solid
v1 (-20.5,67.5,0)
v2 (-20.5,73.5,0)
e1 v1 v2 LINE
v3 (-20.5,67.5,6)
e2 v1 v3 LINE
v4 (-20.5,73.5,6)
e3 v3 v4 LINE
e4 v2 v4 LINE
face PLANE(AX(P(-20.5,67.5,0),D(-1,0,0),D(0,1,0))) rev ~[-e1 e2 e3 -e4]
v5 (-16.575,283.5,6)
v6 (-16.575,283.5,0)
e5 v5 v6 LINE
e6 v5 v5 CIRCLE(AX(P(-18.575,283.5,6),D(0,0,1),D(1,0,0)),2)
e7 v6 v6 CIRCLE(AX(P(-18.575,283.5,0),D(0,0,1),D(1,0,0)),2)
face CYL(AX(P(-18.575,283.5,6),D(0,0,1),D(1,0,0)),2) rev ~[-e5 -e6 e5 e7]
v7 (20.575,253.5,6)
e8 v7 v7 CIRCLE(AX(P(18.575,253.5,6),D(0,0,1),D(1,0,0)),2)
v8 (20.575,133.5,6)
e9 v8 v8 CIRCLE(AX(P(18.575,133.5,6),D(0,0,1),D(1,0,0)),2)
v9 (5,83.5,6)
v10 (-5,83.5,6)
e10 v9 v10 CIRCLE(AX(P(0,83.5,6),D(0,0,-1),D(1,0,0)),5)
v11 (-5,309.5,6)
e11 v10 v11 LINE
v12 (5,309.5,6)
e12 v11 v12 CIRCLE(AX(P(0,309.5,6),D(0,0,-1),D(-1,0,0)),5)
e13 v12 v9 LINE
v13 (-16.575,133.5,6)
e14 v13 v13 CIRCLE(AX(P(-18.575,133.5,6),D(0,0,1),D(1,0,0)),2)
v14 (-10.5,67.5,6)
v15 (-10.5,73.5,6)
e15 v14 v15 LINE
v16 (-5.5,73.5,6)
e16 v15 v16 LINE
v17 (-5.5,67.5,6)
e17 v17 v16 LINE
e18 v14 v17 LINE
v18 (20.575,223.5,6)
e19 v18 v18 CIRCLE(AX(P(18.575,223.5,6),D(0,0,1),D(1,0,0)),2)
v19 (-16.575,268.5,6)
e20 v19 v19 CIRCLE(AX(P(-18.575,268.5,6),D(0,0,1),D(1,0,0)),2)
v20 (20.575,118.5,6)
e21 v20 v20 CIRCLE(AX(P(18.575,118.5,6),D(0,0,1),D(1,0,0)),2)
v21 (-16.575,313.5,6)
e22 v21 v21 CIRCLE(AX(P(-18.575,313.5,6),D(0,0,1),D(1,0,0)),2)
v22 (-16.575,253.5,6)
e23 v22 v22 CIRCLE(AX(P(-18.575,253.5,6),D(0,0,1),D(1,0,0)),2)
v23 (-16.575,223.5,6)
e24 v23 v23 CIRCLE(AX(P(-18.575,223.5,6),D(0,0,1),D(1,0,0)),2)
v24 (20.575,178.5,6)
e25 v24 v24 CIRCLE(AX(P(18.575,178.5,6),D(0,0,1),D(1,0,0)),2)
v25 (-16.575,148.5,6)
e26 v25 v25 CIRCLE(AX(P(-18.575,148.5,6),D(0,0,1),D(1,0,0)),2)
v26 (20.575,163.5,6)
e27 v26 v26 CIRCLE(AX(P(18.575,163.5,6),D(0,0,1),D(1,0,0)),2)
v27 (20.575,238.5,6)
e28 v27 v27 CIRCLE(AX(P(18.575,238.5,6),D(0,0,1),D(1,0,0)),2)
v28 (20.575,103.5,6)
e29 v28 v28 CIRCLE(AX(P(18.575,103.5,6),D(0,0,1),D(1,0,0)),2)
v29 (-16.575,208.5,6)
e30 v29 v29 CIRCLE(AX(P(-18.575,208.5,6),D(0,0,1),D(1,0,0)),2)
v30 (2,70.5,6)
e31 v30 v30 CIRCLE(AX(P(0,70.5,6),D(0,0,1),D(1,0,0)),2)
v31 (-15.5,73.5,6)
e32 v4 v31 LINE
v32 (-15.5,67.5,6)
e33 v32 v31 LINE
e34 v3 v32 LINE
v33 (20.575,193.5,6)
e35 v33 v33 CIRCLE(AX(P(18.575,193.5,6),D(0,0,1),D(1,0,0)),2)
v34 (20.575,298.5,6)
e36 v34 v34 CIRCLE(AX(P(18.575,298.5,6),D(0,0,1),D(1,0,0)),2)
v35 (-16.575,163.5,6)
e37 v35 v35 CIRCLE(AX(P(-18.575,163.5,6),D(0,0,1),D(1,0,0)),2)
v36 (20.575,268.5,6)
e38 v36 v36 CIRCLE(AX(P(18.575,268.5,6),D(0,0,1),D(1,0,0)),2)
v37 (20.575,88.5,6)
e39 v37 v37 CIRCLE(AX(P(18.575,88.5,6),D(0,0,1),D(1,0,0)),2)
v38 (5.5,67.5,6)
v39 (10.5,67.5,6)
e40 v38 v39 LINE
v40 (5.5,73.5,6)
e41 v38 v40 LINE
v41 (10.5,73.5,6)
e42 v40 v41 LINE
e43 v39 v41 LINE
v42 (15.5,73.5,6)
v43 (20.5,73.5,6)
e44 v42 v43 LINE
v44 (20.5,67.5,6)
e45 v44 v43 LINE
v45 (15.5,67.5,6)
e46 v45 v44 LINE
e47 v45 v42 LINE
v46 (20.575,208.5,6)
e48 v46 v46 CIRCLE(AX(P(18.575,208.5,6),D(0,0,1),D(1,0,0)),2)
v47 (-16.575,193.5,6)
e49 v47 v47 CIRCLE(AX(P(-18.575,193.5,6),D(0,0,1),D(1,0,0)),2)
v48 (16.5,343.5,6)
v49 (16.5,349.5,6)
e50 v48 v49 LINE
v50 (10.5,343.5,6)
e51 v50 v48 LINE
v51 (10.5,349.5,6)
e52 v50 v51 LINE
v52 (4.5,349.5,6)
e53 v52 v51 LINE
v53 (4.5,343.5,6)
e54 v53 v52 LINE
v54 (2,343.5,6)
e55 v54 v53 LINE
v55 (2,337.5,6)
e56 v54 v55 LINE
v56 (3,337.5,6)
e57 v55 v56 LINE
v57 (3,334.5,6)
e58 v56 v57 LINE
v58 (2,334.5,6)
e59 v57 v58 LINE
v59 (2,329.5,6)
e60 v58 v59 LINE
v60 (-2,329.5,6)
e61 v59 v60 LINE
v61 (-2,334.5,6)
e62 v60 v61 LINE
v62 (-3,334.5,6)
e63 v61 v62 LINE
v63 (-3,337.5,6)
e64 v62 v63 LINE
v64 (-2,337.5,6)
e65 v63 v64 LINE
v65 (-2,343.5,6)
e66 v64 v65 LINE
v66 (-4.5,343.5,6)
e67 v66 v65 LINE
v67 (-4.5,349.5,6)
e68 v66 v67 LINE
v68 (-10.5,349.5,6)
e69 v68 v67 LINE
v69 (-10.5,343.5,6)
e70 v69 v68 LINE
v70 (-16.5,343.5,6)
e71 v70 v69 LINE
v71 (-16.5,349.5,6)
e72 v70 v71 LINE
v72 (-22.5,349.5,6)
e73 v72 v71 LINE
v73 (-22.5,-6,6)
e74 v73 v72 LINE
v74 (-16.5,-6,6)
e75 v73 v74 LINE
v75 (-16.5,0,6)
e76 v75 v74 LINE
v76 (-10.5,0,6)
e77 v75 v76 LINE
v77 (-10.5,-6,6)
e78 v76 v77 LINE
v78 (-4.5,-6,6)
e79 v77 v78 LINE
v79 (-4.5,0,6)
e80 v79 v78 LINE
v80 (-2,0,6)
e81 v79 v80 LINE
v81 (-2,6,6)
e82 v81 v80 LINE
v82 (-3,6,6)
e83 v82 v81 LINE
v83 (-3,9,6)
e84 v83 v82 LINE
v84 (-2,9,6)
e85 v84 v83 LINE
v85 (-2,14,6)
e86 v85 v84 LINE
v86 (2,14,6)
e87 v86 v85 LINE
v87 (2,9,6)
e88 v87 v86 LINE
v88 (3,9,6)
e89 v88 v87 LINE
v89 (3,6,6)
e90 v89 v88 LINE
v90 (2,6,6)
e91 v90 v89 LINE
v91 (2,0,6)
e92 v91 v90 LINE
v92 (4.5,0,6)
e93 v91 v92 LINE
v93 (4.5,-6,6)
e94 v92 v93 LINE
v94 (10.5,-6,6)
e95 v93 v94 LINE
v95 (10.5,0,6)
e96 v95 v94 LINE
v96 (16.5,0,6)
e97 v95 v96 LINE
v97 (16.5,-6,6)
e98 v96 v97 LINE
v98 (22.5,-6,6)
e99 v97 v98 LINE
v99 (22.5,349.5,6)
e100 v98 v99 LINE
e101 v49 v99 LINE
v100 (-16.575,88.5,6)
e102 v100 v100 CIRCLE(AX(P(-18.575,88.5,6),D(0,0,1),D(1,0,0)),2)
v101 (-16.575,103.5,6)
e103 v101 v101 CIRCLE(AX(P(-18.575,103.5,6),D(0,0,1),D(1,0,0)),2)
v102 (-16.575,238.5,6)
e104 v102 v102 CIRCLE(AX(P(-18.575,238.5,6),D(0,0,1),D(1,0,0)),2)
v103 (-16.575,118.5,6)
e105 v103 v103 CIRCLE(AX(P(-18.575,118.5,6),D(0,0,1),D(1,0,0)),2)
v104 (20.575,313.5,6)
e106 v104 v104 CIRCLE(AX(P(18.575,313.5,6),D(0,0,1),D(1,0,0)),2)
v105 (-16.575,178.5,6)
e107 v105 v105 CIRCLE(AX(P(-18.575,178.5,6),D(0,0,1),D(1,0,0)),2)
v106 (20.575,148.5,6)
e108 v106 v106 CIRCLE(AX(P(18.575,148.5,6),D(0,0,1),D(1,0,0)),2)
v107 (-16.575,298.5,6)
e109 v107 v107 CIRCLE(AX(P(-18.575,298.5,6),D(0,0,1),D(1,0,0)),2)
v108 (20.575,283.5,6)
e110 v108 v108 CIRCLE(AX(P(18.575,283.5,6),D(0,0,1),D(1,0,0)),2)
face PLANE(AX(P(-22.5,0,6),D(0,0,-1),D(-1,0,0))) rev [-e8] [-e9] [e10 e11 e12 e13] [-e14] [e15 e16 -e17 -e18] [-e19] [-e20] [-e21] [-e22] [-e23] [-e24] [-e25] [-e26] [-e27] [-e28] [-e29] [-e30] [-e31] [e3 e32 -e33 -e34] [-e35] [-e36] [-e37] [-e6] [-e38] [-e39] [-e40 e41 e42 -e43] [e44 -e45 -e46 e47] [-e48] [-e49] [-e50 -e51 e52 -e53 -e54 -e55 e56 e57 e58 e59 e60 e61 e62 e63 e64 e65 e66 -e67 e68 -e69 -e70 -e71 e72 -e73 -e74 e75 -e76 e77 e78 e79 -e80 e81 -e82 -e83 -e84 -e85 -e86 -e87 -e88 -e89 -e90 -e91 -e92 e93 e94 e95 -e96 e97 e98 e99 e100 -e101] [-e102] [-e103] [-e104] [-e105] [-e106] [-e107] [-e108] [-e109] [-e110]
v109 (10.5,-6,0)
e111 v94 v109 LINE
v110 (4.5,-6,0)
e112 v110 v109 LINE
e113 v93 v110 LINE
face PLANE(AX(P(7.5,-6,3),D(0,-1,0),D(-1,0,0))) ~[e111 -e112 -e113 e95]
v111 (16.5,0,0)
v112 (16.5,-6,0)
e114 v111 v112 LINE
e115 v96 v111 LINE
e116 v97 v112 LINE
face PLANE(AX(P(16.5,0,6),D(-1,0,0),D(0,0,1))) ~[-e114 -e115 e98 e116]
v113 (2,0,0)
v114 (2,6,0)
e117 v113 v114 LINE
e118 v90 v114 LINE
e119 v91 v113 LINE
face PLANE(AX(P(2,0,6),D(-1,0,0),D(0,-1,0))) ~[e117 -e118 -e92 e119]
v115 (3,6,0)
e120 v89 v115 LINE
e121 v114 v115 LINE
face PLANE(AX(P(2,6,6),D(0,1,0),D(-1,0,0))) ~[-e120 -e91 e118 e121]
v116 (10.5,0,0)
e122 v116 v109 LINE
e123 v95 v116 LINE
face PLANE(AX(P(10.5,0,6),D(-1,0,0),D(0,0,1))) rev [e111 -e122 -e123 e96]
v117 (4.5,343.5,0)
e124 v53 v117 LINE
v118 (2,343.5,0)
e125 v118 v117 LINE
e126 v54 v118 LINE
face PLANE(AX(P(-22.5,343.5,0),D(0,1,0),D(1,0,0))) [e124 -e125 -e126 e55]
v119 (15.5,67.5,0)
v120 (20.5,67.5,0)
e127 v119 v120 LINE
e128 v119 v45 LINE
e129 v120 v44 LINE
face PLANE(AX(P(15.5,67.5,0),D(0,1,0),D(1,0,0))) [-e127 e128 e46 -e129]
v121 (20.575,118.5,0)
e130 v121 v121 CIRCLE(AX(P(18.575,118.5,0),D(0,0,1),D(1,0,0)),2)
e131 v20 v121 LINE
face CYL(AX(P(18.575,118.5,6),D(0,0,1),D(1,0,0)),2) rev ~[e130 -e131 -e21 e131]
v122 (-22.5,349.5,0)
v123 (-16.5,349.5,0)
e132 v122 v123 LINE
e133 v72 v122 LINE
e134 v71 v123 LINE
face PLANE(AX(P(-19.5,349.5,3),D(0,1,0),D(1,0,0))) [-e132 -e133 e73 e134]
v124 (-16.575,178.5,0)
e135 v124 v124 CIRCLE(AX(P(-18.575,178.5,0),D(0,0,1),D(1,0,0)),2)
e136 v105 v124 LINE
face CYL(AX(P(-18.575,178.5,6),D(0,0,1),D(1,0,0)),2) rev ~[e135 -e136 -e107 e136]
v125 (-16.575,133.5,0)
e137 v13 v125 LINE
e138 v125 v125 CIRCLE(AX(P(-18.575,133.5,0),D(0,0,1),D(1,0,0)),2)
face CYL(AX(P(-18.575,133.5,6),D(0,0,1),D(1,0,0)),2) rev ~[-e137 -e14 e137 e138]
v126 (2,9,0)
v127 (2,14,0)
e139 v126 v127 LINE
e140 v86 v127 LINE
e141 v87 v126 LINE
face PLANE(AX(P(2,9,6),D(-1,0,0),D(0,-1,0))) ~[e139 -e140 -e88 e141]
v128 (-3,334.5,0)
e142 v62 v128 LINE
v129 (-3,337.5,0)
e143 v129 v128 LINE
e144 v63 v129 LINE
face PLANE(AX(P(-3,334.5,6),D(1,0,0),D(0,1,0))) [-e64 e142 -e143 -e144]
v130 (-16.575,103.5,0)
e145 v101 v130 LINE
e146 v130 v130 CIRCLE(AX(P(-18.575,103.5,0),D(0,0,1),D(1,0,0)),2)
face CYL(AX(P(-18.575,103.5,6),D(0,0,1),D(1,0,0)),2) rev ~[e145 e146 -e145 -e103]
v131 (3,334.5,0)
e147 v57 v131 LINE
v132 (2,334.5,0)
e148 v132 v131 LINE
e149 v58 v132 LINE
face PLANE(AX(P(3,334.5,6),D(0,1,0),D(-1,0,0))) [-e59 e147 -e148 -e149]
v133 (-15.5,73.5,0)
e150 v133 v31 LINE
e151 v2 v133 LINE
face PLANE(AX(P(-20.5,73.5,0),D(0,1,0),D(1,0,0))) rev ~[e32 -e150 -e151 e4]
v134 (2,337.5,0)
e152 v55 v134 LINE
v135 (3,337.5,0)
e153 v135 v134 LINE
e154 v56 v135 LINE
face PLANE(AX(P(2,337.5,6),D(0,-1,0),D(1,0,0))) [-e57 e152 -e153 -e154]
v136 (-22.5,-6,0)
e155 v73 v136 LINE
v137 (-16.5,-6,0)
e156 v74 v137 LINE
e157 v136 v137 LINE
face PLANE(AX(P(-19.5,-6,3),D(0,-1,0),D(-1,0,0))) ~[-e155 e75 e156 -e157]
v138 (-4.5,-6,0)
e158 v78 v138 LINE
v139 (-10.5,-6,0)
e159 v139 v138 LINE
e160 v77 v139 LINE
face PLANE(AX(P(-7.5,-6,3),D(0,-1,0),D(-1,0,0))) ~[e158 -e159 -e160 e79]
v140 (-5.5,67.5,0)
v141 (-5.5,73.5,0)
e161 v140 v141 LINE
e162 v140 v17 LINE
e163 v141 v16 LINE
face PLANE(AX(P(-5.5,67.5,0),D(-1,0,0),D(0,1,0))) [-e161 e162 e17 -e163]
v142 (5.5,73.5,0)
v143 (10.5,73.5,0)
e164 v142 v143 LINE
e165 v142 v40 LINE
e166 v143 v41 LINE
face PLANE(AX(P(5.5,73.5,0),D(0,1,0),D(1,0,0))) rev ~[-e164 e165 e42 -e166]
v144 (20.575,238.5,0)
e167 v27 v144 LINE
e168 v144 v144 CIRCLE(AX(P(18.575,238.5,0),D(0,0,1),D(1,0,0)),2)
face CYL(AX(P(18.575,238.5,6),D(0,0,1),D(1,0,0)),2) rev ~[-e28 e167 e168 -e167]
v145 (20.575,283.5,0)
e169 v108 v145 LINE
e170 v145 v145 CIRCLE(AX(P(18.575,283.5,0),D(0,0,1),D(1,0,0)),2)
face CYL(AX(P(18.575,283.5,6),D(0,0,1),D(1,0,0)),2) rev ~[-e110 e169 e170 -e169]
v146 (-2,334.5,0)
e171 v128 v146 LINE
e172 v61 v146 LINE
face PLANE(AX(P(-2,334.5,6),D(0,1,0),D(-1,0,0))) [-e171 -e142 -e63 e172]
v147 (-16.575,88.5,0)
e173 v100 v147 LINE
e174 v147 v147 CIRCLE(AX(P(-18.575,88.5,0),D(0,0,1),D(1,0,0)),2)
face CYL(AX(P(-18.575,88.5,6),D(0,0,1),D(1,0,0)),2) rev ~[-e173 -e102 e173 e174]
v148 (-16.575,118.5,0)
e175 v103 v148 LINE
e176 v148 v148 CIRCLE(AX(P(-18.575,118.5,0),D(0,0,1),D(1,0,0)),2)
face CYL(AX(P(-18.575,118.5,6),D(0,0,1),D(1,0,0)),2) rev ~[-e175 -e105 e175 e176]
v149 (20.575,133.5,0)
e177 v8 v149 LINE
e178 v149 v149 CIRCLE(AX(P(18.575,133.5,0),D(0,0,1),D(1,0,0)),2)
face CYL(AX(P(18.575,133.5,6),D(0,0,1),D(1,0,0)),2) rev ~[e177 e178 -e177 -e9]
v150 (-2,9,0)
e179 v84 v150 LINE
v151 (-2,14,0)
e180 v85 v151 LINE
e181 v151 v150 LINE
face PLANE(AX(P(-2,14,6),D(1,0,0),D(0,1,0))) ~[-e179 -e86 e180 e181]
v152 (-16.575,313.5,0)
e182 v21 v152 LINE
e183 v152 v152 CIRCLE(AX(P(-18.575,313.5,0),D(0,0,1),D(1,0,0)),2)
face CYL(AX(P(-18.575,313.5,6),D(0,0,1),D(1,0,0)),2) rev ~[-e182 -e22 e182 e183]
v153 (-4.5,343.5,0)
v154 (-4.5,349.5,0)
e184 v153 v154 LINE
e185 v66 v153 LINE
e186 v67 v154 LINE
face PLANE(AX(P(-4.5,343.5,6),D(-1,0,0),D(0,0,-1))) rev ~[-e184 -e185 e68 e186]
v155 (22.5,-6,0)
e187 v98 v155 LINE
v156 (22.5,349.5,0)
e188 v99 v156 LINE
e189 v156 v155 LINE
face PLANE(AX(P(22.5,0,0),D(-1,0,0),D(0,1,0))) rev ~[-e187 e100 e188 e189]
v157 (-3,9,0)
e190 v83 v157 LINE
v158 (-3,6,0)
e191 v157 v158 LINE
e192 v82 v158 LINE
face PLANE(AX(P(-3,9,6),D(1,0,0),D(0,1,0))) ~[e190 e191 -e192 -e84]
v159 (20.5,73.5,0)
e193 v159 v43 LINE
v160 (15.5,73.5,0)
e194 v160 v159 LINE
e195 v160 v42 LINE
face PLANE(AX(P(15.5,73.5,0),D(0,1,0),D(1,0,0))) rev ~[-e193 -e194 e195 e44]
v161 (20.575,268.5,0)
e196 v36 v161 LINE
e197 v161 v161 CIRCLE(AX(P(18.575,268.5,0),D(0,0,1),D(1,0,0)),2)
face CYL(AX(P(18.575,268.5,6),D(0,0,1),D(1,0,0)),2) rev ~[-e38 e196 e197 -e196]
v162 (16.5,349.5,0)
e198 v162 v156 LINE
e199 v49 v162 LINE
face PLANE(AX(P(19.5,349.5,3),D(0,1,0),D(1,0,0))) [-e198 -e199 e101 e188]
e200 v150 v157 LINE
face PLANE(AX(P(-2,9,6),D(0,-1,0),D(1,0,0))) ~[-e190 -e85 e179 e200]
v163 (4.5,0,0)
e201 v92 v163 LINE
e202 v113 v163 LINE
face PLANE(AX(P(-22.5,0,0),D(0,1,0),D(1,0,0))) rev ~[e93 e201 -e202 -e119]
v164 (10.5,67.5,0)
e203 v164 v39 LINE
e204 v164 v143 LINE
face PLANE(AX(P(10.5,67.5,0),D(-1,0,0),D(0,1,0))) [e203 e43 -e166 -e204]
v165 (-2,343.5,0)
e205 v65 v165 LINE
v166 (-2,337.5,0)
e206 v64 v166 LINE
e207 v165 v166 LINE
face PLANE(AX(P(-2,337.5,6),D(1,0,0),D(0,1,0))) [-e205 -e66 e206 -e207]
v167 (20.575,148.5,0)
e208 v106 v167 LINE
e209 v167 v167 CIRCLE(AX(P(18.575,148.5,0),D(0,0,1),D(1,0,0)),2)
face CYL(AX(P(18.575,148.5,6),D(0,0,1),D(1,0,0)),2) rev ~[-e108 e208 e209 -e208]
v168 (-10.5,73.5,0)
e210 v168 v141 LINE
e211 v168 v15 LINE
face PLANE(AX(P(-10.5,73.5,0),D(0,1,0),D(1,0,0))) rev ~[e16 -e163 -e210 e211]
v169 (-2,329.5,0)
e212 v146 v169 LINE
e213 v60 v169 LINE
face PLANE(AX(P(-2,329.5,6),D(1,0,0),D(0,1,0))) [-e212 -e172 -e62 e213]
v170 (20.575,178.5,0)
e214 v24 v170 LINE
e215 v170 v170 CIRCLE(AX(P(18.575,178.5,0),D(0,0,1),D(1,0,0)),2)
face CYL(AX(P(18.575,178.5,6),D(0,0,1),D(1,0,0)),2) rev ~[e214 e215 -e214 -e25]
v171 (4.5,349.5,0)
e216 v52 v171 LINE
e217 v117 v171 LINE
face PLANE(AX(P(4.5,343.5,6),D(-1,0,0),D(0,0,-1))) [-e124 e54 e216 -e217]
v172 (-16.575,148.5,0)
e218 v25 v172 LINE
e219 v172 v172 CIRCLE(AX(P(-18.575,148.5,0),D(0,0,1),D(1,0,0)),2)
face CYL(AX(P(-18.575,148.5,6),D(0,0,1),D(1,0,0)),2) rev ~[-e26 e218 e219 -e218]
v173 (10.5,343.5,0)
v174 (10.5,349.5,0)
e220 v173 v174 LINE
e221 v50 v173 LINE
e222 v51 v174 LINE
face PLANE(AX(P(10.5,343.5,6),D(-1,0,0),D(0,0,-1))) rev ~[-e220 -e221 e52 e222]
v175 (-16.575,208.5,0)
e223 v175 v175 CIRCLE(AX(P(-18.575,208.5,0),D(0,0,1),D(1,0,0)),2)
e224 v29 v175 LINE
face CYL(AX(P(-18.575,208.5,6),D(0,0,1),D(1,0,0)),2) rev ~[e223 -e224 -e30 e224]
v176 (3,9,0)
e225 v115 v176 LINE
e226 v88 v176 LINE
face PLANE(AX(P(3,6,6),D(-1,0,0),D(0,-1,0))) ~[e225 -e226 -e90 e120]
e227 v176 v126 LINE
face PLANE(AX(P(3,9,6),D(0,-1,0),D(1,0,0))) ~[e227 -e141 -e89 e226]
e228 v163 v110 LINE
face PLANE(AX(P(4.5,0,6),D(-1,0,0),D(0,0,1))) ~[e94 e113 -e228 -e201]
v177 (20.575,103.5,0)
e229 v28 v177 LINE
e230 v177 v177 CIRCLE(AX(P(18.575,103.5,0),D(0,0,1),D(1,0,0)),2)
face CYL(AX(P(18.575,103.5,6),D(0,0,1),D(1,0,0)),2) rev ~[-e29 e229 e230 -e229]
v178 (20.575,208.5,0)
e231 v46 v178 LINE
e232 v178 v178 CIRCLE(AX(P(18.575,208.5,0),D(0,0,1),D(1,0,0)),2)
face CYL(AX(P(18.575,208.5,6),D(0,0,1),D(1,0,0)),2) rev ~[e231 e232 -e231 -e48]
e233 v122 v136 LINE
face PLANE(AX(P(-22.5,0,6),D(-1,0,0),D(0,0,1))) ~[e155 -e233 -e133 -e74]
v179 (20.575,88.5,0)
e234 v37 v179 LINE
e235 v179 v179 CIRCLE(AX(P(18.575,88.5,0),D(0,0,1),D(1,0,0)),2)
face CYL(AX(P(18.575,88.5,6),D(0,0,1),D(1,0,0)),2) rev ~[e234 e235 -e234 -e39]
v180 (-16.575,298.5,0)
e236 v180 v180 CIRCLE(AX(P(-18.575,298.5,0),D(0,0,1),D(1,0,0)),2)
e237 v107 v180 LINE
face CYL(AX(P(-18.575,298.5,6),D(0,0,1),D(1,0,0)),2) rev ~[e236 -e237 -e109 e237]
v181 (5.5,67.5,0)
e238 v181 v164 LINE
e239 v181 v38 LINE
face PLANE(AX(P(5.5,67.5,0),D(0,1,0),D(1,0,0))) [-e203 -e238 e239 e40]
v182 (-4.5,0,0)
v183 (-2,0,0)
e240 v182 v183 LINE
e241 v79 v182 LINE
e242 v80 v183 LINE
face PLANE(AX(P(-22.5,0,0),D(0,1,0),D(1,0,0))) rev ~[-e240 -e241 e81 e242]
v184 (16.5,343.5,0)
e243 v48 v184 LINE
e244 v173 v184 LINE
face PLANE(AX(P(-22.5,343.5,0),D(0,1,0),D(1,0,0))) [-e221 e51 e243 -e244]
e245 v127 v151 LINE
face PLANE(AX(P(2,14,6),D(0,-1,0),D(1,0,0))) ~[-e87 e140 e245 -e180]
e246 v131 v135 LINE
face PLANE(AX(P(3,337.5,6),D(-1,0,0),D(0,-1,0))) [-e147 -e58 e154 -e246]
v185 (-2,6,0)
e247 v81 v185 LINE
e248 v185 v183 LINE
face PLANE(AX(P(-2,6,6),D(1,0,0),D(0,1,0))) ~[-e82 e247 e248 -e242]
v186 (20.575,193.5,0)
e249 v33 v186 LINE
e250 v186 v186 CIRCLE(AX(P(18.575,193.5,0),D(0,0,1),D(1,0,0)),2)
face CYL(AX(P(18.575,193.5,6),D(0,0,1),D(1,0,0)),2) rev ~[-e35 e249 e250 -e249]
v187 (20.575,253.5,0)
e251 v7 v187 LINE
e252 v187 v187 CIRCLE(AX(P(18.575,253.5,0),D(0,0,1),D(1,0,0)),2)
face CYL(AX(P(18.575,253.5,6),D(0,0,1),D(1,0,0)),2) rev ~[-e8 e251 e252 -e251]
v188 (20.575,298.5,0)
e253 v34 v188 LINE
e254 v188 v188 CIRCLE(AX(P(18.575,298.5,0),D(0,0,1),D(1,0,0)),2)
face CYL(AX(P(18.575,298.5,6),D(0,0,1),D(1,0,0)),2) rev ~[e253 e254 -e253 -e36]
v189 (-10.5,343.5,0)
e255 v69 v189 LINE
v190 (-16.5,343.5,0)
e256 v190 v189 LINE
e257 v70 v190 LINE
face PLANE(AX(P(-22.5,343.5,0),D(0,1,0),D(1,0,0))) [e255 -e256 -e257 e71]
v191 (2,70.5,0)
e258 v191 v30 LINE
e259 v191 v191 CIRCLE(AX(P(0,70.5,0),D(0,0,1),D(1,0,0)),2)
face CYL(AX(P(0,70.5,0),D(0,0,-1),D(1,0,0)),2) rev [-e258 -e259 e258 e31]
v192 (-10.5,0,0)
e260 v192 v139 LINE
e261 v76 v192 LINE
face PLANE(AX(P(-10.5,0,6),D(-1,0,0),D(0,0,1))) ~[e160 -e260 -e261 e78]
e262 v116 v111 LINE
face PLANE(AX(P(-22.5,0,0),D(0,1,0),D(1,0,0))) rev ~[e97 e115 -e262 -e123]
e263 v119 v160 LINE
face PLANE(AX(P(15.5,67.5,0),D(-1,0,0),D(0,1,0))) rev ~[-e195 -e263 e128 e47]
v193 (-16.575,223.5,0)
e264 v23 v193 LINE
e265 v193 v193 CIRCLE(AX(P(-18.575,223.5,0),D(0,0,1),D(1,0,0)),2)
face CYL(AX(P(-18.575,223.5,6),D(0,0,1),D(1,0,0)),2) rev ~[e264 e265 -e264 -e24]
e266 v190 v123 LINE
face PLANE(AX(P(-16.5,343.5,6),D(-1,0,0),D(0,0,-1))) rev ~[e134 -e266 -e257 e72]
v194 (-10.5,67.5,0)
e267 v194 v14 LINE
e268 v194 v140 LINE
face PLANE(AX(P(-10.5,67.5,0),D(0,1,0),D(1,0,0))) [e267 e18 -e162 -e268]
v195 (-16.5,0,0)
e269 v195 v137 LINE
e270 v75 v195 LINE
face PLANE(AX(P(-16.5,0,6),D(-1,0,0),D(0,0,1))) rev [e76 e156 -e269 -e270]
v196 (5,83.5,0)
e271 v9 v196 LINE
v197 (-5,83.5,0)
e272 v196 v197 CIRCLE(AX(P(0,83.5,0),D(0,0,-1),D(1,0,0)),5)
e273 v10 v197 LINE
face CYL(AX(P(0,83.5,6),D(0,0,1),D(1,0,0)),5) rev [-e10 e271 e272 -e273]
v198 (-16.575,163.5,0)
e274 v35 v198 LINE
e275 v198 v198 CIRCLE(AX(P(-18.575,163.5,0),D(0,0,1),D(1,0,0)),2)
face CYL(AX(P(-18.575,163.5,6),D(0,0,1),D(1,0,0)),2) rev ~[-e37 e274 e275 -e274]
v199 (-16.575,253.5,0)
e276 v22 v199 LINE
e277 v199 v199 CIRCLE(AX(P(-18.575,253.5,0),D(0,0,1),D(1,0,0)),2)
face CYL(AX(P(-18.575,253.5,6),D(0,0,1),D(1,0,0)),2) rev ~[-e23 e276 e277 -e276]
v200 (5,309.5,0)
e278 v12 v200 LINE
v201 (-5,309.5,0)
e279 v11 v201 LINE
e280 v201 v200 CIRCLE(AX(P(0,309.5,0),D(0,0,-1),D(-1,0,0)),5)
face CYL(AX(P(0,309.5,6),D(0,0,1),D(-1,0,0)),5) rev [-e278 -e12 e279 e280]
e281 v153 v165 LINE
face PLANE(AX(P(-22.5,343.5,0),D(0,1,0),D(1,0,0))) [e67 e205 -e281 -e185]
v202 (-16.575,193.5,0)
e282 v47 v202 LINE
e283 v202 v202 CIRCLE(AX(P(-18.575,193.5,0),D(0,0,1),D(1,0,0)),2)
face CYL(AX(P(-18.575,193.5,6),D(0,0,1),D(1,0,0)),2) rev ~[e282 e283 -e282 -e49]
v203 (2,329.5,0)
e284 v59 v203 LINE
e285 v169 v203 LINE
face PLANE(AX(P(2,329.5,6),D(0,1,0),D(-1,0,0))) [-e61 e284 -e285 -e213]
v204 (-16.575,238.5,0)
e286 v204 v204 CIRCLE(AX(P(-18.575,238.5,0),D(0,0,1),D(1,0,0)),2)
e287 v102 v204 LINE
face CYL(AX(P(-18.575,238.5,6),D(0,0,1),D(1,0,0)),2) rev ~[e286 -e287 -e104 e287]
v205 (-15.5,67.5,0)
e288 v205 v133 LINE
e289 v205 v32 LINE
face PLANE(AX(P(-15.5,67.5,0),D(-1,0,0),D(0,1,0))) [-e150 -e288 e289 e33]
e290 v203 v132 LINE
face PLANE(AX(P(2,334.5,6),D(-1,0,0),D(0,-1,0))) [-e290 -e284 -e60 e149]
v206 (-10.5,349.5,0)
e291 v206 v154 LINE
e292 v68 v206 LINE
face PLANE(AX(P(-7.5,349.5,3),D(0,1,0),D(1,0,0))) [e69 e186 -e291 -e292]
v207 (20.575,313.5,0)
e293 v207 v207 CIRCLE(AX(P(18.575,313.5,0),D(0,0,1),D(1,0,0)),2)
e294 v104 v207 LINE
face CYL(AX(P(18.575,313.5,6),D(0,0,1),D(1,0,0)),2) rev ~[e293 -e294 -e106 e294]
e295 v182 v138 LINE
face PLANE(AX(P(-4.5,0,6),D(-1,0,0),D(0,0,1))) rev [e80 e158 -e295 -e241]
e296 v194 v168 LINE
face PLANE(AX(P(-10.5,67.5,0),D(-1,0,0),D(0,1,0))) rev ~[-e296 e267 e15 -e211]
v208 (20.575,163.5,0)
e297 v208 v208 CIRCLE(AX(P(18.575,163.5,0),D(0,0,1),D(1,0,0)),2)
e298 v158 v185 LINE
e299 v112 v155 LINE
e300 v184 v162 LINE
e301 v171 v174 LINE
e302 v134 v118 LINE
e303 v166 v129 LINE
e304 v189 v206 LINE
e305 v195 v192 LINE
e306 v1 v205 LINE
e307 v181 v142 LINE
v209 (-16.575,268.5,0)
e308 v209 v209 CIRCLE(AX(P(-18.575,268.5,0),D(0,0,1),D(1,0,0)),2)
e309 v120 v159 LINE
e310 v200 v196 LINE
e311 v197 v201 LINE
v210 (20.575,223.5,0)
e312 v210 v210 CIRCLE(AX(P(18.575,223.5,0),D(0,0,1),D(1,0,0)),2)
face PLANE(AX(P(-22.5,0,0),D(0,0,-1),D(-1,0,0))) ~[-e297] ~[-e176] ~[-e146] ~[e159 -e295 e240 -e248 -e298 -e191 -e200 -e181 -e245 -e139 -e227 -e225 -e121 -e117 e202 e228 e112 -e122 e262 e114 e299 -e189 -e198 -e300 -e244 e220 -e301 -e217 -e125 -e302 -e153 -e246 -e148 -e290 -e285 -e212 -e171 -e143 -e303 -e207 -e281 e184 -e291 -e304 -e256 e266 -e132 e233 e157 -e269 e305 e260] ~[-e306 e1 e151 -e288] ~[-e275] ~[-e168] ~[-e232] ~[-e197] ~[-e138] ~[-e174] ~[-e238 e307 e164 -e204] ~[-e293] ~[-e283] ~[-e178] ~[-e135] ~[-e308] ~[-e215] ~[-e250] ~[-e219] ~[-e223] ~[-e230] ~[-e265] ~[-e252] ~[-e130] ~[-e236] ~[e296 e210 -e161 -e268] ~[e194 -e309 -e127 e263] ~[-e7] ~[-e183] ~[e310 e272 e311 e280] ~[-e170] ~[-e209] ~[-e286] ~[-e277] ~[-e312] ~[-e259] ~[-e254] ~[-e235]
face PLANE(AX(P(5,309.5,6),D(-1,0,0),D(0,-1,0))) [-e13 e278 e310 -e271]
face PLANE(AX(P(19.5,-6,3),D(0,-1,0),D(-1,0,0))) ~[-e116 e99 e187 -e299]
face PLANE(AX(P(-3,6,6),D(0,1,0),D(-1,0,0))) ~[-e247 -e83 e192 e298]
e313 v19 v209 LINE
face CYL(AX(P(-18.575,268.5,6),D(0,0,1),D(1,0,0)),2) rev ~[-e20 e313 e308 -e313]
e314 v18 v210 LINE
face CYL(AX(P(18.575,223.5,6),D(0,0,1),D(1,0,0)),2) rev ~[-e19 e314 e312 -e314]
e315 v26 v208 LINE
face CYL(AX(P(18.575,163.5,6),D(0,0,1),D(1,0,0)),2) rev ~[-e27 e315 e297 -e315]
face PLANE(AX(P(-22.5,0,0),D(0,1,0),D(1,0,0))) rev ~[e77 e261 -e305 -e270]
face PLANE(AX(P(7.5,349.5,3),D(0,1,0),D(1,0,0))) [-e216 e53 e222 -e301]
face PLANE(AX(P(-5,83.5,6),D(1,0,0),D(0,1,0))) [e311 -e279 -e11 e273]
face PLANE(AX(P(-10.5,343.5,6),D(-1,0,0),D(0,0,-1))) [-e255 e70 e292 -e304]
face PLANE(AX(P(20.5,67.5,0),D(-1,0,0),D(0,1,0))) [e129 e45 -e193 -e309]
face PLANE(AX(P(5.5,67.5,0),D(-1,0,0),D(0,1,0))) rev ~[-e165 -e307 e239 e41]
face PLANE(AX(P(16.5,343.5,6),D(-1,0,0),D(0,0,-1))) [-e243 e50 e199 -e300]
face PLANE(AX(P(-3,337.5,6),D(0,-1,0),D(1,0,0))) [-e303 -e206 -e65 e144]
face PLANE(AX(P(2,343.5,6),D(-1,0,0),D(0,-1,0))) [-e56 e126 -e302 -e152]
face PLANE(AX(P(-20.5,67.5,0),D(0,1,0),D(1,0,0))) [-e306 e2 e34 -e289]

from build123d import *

# Parameters (mm, degrees)
ESQUISSE1_W             = 45
ESQUISSE1_H             = 343.5
ESQUISSE1_R             = 2
ESQUISSE1_W_2           = 5
ESQUISSE1_H_2           = 6
BOSS_EXTRU_1_DEPTH      = 6
ESQUISSE2_W             = 6
ESQUISSE2_H             = 6
BOSS_EXTRU_2_DEPTH      = 6
ENL_V_MAT_EXTRU_1_DEPTH = 351.274892049
ESQUISSE4_R             = 2
ENL_V_MAT_EXTRU_2_DEPTH = 6


with BuildPart() as part:
    # Esquisse1 → Boss.-Extru.1 (new body)
    with BuildSketch(Plane.XY):
        with Locations((0, 171.75)):
            Rectangle(ESQUISSE1_W, ESQUISSE1_H)
        with Locations((0, 70.5)):
            Circle(ESQUISSE1_R, mode=Mode.SUBTRACT)
        with Locations((-18, 70.5)):
            Rectangle(ESQUISSE1_W_2, ESQUISSE1_H_2, mode=Mode.SUBTRACT)
        with Locations((-8, 70.5)):
            Rectangle(ESQUISSE1_W_2, ESQUISSE1_H_2, mode=Mode.SUBTRACT)
        with Locations((8, 70.5)):
            Rectangle(ESQUISSE1_W_2, ESQUISSE1_H_2, mode=Mode.SUBTRACT)
        with Locations((18, 70.5)):
            Rectangle(ESQUISSE1_W_2, ESQUISSE1_H_2, mode=Mode.SUBTRACT)
    extrude(amount=BOSS_EXTRU_1_DEPTH)

    # Esquisse2 → Boss.-Extru.2 (add)
    with BuildSketch(Plane(origin=(0, 343.5, 0), x_dir=(1, 0, 0), z_dir=(0, 1, 0))):
        with Locations((-19.5, -3)):
            Rectangle(ESQUISSE2_W, ESQUISSE2_H)
        with Locations((19.5, -3)):
            Rectangle(ESQUISSE2_W, ESQUISSE2_H)
        with Locations((7.5, -3)):
            Rectangle(ESQUISSE2_W, ESQUISSE2_H)
        with Locations((-7.5, -3)):
            Rectangle(ESQUISSE2_W, ESQUISSE2_H)
    boss_extru_2 = extrude(amount=BOSS_EXTRU_2_DEPTH)

    # Esquisse3 → Enlèv. mat.-Extru.1 (cut, through all)
    with BuildSketch(Plane.XY.offset(6)):
        Polygon((-2, 343.5), (2, 343.5), (2, 337.5), (3, 337.5), (3, 334.5), (2, 334.5), (2, 329.5), (-2, 329.5), (-2, 334.5), (-3, 334.5), (-3, 337.5), (-2, 337.5), align=None)
    enl_v_mat_extru_1 = extrude(amount=-ENL_V_MAT_EXTRU_1_DEPTH, mode=Mode.SUBTRACT)

    # Symétrie1: Boss.-Extru.2, Enlèv. mat.-Extru.1 across plane
    add(boss_extru_2.mirror(Plane.ZX.offset(171.75)))
    add(enl_v_mat_extru_1.mirror(Plane.ZX.offset(171.75)), mode=Mode.SUBTRACT)

    # Esquisse4 → Enlèv. mat.-Extru.2 (cut)
    with BuildSketch(Plane.XY.offset(6)):
        with Locations((-18.575, 88.5)):
            Circle(ESQUISSE4_R)
        with Locations((18.575, 88.5)):
            Circle(ESQUISSE4_R)
        with Locations((-18.575, 103.5)):
            Circle(ESQUISSE4_R)
        with Locations((18.575, 103.5)):
            Circle(ESQUISSE4_R)
        with Locations((-18.575, 118.5)):
            Circle(ESQUISSE4_R)
        with Locations((18.575, 118.5)):
            Circle(ESQUISSE4_R)
        with Locations((-18.575, 133.5)):
            Circle(ESQUISSE4_R)
        with Locations((18.575, 133.5)):
            Circle(ESQUISSE4_R)
        with Locations((-18.575, 148.5)):
            Circle(ESQUISSE4_R)
        with Locations((18.575, 148.5)):
            Circle(ESQUISSE4_R)
        with Locations((-18.575, 163.5)):
            Circle(ESQUISSE4_R)
        with Locations((18.575, 163.5)):
            Circle(ESQUISSE4_R)
        with Locations((-18.575, 178.5)):
            Circle(ESQUISSE4_R)
        with Locations((18.575, 178.5)):
            Circle(ESQUISSE4_R)
        with Locations((-18.575, 193.5)):
            Circle(ESQUISSE4_R)
        with Locations((18.575, 193.5)):
            Circle(ESQUISSE4_R)
        with Locations((-18.575, 208.5)):
            Circle(ESQUISSE4_R)
        with Locations((18.575, 208.5)):
            Circle(ESQUISSE4_R)
        with Locations((-18.575, 223.5)):
            Circle(ESQUISSE4_R)
        with Locations((18.575, 223.5)):
            Circle(ESQUISSE4_R)
        with Locations((-18.575, 238.5)):
            Circle(ESQUISSE4_R)
        with Locations((18.575, 238.5)):
            Circle(ESQUISSE4_R)
        with Locations((-18.575, 253.5)):
            Circle(ESQUISSE4_R)
        with Locations((18.575, 253.5)):
            Circle(ESQUISSE4_R)
        with Locations((-18.575, 268.5)):
            Circle(ESQUISSE4_R)
        with Locations((18.575, 268.5)):
            Circle(ESQUISSE4_R)
        with Locations((-18.575, 283.5)):
            Circle(ESQUISSE4_R)
        with Locations((18.575, 283.5)):
            Circle(ESQUISSE4_R)
        with Locations((-18.575, 298.5)):
            Circle(ESQUISSE4_R)
        with Locations((18.575, 298.5)):
            Circle(ESQUISSE4_R)
        with Locations((-18.575, 313.5)):
            Circle(ESQUISSE4_R)
        with Locations((18.575, 313.5)):
            Circle(ESQUISSE4_R)
        with BuildLine():
            Line((-5, 83.5), (-5, 309.5))
            ThreePointArc((-5, 309.5), (0, 314.5), (5, 309.5))
            Line((5, 309.5), (5, 83.5))
            ThreePointArc((5, 83.5), (0, 78.5), (-5, 83.5))
        make_face()
    extrude(amount=-ENL_V_MAT_EXTRU_2_DEPTH, mode=Mode.SUBTRACT)


solid = part.part
